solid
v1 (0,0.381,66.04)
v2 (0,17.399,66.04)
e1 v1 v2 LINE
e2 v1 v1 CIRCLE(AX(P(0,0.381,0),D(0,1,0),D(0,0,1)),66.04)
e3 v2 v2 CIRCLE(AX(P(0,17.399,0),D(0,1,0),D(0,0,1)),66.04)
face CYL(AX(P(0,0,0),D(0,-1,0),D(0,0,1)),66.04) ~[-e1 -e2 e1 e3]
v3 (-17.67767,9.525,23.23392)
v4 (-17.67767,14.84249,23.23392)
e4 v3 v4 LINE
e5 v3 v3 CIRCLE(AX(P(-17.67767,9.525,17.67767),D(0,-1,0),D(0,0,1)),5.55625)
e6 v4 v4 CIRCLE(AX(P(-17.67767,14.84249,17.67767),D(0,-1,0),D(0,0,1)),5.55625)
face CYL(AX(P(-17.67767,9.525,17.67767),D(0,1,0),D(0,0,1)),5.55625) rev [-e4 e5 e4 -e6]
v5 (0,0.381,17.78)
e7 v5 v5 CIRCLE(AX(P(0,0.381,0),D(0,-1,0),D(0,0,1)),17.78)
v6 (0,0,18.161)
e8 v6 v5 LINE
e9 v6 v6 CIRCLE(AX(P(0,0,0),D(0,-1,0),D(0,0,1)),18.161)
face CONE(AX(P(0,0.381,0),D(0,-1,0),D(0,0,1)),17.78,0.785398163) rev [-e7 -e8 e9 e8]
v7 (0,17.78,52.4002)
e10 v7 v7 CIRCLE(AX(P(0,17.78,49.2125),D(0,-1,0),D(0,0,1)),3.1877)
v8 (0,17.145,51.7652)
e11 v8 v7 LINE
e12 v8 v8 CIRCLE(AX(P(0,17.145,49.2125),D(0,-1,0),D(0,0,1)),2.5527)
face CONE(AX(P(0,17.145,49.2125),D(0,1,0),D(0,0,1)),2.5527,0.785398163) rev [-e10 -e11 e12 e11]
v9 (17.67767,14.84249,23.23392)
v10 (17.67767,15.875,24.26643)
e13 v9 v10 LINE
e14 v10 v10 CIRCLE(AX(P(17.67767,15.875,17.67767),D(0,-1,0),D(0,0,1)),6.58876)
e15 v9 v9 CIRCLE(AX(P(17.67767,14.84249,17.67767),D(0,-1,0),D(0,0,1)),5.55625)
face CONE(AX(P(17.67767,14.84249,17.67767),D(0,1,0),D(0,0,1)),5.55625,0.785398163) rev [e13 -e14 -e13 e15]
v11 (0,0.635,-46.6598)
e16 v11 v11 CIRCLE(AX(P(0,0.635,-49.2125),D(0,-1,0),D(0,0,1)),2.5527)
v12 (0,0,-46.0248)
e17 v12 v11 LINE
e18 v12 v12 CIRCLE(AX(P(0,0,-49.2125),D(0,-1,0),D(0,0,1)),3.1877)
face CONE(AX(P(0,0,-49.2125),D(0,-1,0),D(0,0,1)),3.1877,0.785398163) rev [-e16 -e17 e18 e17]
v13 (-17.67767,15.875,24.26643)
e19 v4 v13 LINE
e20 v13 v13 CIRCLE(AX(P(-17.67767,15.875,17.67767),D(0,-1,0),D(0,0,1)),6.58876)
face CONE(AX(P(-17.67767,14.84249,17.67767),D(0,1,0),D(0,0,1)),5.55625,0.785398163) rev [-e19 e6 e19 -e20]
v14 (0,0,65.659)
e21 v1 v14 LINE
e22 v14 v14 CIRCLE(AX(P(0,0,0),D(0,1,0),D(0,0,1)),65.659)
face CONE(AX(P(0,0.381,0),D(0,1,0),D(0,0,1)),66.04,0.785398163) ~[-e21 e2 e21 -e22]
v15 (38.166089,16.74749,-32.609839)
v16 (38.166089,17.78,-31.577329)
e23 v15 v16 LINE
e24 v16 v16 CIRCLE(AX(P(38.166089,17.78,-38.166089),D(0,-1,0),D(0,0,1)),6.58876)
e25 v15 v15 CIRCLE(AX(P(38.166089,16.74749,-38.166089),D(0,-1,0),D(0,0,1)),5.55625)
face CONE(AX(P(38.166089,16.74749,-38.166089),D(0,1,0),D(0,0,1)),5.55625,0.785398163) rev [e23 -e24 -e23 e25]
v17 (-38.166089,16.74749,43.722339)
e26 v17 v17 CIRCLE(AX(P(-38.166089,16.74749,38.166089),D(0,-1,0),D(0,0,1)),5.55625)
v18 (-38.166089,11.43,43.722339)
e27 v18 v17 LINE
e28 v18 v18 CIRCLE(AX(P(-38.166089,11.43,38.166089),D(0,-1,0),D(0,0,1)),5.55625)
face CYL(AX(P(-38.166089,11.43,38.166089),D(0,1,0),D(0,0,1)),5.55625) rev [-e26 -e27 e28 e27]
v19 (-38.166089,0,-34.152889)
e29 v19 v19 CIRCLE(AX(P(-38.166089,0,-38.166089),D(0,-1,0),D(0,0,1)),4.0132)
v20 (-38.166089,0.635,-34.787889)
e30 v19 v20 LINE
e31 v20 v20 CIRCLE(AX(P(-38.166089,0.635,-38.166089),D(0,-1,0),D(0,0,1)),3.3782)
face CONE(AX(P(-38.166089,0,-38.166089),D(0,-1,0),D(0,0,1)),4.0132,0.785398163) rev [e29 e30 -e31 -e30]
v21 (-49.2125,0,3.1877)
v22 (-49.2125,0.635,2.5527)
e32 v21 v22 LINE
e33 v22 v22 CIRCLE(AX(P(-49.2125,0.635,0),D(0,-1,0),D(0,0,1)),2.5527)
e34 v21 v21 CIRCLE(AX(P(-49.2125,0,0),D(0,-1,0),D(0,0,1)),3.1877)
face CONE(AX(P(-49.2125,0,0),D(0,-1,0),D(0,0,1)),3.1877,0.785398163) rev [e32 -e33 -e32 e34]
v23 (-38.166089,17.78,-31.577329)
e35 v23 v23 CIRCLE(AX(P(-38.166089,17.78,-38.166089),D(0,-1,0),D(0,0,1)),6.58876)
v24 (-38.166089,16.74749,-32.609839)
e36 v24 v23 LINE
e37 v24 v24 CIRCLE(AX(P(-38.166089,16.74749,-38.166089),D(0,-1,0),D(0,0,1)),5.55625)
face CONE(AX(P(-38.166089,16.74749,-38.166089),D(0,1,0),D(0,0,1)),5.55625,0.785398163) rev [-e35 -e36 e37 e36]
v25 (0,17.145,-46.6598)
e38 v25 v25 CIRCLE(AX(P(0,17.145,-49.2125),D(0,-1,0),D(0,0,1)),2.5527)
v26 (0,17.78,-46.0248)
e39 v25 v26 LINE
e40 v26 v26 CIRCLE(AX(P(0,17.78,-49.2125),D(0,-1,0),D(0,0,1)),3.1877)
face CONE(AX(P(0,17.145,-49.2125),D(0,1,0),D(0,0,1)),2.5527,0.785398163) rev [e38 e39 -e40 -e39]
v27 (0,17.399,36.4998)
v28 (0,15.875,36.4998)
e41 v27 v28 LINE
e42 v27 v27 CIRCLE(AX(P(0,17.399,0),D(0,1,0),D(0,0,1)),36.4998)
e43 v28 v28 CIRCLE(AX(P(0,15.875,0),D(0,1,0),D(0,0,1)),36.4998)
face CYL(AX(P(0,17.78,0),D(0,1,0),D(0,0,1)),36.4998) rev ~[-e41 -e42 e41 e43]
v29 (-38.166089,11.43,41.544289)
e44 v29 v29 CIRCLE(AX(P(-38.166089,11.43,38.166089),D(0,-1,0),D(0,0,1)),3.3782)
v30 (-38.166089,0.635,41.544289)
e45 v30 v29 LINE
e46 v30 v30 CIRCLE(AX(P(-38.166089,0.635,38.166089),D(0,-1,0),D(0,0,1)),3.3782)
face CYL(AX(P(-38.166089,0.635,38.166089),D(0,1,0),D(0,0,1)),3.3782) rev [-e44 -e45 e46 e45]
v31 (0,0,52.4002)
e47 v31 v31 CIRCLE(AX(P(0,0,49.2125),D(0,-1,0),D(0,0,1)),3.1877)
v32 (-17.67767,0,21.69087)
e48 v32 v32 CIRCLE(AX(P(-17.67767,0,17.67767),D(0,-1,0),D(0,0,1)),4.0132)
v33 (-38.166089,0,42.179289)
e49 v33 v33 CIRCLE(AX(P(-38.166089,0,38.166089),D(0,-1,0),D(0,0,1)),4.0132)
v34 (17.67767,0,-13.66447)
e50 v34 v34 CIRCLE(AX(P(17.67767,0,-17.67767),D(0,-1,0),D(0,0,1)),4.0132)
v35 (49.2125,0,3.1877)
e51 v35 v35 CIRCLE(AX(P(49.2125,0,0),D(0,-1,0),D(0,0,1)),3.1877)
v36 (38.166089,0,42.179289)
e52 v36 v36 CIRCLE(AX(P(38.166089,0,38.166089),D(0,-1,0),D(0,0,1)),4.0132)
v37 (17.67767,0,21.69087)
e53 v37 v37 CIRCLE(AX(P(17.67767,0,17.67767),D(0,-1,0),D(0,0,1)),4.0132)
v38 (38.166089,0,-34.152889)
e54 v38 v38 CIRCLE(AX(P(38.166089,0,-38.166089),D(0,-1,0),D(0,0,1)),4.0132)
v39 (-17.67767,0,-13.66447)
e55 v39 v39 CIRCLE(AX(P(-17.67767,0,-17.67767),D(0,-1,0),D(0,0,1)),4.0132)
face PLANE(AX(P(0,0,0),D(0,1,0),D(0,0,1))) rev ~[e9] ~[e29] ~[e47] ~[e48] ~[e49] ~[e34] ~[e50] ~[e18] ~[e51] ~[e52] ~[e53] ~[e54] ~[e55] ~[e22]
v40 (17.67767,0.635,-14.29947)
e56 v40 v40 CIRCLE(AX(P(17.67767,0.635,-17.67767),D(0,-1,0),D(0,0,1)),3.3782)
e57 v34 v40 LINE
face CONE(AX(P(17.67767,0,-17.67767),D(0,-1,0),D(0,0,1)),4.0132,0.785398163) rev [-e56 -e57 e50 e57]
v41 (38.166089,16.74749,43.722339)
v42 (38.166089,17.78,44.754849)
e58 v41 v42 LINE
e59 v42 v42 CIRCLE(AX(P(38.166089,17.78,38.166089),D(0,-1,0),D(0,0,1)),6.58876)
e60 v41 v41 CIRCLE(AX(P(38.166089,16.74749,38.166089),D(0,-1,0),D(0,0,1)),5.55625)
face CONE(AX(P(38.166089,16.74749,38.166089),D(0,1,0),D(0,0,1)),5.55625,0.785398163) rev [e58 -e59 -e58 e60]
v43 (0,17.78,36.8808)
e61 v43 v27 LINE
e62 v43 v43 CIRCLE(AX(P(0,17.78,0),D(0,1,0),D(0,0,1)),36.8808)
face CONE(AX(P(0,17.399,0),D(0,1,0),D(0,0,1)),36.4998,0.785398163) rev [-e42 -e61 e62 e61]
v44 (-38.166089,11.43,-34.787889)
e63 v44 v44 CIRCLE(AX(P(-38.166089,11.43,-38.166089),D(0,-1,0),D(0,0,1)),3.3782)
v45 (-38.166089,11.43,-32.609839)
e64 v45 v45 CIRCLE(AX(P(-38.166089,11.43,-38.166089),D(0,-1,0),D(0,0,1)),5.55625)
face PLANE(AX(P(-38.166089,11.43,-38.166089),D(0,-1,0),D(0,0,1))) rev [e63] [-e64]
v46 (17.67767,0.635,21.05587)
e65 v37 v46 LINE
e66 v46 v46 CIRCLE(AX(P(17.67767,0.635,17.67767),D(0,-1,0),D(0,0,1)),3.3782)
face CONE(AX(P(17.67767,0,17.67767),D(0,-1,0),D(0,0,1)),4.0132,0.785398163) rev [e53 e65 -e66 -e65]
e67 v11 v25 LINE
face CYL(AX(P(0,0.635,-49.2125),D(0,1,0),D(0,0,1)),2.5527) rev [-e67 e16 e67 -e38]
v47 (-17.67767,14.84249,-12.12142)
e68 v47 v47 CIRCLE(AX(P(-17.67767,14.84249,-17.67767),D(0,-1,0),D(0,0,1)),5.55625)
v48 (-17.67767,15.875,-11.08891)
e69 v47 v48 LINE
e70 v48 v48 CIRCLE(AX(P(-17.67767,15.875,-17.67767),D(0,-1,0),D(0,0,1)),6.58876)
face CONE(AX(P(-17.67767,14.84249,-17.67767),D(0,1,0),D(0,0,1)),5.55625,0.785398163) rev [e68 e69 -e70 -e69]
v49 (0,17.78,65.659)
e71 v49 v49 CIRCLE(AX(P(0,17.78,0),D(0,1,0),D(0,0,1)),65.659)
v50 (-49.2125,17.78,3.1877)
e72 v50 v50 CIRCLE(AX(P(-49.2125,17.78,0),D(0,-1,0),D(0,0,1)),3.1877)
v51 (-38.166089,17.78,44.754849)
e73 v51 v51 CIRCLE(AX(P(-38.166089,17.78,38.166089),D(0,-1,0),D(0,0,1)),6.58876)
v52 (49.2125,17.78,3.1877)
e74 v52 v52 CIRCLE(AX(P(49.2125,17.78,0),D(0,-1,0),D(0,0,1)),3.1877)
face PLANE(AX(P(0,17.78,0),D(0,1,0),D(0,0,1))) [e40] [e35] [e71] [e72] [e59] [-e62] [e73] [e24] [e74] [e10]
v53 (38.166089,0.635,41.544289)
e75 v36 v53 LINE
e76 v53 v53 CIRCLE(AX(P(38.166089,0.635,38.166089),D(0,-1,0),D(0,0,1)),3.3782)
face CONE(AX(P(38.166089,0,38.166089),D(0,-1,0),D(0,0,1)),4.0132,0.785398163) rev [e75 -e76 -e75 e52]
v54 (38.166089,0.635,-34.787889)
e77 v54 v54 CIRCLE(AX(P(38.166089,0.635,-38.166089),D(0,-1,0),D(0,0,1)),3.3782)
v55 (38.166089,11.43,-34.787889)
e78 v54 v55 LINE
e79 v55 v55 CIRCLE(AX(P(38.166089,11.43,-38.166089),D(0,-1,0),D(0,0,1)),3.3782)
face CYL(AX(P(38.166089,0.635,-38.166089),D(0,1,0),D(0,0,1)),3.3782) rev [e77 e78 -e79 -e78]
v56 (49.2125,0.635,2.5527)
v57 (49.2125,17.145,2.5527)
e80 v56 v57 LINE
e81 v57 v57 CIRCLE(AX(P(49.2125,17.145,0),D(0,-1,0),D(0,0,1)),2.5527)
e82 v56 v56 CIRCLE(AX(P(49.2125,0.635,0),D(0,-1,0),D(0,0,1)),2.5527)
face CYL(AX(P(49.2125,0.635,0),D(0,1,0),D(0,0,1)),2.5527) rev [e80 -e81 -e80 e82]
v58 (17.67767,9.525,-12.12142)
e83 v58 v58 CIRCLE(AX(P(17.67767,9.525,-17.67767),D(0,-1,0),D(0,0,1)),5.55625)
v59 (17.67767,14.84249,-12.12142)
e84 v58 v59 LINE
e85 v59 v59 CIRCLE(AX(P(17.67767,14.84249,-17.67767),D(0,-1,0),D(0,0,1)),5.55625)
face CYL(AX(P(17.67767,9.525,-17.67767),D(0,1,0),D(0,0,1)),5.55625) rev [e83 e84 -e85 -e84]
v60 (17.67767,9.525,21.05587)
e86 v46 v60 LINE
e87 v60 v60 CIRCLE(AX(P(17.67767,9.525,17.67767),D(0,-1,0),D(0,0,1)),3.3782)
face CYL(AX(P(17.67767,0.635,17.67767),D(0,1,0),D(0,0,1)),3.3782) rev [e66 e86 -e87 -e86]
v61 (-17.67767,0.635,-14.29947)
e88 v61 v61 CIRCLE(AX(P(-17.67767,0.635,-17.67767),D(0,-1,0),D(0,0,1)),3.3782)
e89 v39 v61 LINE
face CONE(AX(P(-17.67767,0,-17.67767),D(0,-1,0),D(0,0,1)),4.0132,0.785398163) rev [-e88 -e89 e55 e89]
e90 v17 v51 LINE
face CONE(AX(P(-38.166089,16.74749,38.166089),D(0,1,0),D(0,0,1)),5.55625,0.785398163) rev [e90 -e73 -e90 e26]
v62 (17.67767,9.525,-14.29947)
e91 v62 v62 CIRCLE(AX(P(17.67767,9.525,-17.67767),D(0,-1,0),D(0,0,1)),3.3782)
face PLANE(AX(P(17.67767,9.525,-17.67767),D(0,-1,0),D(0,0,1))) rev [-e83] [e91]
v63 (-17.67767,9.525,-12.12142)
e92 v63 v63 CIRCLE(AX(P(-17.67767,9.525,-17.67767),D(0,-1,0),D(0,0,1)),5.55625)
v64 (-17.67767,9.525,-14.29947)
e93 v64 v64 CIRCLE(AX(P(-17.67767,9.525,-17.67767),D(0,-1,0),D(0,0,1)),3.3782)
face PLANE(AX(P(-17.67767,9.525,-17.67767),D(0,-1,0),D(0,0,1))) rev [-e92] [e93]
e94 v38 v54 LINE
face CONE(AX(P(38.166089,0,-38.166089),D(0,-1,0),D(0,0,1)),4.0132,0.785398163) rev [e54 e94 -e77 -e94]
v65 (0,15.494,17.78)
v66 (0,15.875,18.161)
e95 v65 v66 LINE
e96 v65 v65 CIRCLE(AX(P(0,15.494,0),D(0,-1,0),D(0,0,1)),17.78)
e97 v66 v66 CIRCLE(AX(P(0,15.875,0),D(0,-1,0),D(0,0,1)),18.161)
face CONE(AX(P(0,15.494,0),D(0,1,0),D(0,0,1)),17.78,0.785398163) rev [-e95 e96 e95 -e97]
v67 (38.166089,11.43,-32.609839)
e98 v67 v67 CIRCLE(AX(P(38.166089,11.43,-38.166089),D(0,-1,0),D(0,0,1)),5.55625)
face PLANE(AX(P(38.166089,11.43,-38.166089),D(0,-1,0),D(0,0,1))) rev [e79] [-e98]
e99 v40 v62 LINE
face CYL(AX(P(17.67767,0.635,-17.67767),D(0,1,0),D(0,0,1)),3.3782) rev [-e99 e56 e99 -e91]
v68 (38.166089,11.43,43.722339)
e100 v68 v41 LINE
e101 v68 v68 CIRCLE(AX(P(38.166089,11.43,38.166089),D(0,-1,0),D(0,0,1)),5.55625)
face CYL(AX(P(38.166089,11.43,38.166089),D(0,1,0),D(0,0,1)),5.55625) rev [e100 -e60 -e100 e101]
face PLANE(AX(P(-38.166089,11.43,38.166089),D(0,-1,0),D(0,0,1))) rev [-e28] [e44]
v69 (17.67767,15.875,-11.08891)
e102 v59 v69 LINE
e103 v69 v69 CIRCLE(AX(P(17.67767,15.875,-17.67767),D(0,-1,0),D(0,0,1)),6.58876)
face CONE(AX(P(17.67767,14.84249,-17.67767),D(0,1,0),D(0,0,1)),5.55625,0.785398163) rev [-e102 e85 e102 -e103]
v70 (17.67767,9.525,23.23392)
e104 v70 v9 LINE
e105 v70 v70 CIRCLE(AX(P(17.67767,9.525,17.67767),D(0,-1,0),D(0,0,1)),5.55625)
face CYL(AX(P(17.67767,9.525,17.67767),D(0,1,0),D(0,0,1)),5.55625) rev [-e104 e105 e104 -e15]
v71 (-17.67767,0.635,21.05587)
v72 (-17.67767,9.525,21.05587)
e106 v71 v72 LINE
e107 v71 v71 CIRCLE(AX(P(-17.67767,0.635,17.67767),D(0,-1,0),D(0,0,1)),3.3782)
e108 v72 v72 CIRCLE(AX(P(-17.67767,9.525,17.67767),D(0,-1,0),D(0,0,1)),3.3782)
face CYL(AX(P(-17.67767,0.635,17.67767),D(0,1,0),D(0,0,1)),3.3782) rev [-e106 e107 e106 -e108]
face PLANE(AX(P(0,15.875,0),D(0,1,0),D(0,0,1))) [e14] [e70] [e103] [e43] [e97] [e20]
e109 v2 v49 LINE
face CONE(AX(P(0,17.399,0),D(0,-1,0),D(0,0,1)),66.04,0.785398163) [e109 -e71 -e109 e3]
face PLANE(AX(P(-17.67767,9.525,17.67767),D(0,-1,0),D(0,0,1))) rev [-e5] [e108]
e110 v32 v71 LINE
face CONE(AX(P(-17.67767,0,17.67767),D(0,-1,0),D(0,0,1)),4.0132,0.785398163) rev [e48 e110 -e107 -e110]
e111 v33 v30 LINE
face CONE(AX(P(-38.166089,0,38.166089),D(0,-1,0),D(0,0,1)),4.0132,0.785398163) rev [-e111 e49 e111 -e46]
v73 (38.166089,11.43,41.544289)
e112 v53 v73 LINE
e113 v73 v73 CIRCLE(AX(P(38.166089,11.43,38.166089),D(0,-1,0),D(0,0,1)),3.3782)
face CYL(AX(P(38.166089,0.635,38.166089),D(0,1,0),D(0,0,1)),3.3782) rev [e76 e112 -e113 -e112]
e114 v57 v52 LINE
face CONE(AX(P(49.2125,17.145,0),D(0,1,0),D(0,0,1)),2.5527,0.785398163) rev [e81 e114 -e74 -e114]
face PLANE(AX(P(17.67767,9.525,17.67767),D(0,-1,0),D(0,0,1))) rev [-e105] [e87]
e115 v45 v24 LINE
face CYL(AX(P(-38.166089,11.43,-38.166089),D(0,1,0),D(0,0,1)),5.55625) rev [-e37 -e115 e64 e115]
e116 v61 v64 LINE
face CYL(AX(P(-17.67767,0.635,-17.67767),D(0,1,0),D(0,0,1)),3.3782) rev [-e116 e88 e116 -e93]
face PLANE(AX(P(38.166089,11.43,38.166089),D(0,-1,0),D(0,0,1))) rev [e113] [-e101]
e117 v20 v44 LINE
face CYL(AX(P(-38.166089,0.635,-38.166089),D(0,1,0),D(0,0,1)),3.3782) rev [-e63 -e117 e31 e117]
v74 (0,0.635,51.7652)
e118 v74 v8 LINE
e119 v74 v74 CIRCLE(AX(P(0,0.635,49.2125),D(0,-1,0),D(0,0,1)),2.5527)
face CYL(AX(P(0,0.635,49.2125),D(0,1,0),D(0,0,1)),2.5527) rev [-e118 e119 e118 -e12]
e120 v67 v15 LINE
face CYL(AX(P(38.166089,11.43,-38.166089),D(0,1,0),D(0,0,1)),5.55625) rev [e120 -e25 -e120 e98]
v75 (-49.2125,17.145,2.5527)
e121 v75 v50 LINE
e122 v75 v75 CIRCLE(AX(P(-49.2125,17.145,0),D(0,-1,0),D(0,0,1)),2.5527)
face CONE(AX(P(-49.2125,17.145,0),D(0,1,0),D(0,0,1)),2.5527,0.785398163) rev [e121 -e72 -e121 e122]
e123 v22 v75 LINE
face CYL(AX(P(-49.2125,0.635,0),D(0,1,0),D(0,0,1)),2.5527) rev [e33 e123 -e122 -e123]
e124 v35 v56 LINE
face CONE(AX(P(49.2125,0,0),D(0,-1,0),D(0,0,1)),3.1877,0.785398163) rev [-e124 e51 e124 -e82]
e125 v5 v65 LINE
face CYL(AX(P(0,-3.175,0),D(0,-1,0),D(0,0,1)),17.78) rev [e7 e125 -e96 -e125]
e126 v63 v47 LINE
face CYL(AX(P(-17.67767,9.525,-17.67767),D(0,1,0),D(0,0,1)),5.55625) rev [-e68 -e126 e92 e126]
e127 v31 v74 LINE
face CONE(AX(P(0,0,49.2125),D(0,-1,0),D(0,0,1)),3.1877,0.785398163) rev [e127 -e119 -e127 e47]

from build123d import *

# Parameters (mm, degrees)
SKETCH1_R                                     = 66.04
BOSS_EXTRUDE1_DEPTH                           = 17.78
SKETCH2_R                                     = 36.4998
CUT_EXTRUDE1_DEPTH                            = 1.905
CUT_EXTRUDE2_DEPTH                            = 95.734253705
CUT_EXTRUDE2_DEPTH_BACK                       = 19.05
SKETCH3_R                                     = 17.78
F_1_4_20_TAPPED_HOLE1_AT_2_COUNT              = 2
F_1_4_20_TAPPED_HOLE1_AT_2_PITCH              = 69.596984938
F_1_4_20_TAPPED_HOLE1_AT_3_COUNT              = 2
F_1_4_20_TAPPED_HOLE1_AT_3_PITCH              = 98.425
F_1_4_20_TAPPED_HOLE1_AT_4_COUNT              = 2
F_1_4_20_TAPPED_HOLE1_AT_4_PITCH              = 69.596984938
CBORE_FOR_1_4_SOCKET_HEAD_CAP_SCREW1_AT_COUNT = 2
CBORE_FOR_1_4_SOCKET_HEAD_CAP_SCREW1_AT_PITCH = 25
CBORE_FOR_1_4_SOCKET_HEAD_CAP_SCREW1_2_COUNT  = 2
CBORE_FOR_1_4_SOCKET_HEAD_CAP_SCREW1_2_PITCH  = 25
CBORE_FOR_1_4_SOCKET_HEAD_CAP_SCREW1_3_COUNT  = 2
CBORE_FOR_1_4_SOCKET_HEAD_CAP_SCREW1_3_PITCH  = 25
CBORE_FOR_1_4_SOCKET_HEAD_CAP_SCREW1_4_COUNT  = 2
CBORE_FOR_1_4_SOCKET_HEAD_CAP_SCREW1_4_PITCH  = 25
CHAMFER1_SIZE                                 = 0.381
CBORE_FOR_1_4_SOCKET_HEAD_CAP_SCREW2_AT_COUNT = 2
CBORE_FOR_1_4_SOCKET_HEAD_CAP_SCREW2_AT_PITCH = 53.975
CBORE_FOR_1_4_SOCKET_HEAD_CAP_SCREW2_2_COUNT  = 2
CBORE_FOR_1_4_SOCKET_HEAD_CAP_SCREW2_2_PITCH  = 53.975
CBORE_FOR_1_4_SOCKET_HEAD_CAP_SCREW2_3_COUNT  = 2
CBORE_FOR_1_4_SOCKET_HEAD_CAP_SCREW2_3_PITCH  = 53.975
CBORE_FOR_1_4_SOCKET_HEAD_CAP_SCREW2_4_COUNT  = 2
CBORE_FOR_1_4_SOCKET_HEAD_CAP_SCREW2_4_PITCH  = 53.975


with BuildPart() as part:
    # Sketch1 → Boss-Extrude1 (new body)
    with BuildSketch(Plane(origin=(0, 0, 0), x_dir=(1, 0, 0), z_dir=(0, 1, 0))):
        with Locations(Location((0, 0, 0), (0, 0, 270))):
            Circle(SKETCH1_R)
    extrude(amount=BOSS_EXTRUDE1_DEPTH)

    # Sketch2 → Cut-Extrude1 (cut)
    with BuildSketch(Plane(origin=(0, 17.78, 0), x_dir=(1, 0, 0), z_dir=(0, 1, 0))):
        with Locations(Location((0, 0, 0), (0, 0, 270))):
            Circle(SKETCH2_R)
    extrude(amount=-CUT_EXTRUDE1_DEPTH, mode=Mode.SUBTRACT)

    # Sketch3 → Cut-Extrude2 (cut, two sides: drawn at the far end of the back side and taken through both)
    with BuildSketch(Plane(origin=(0, 15.875, 0), x_dir=(1, 0, 0), z_dir=(0, 1, 0)).offset(-CUT_EXTRUDE2_DEPTH_BACK)):
        with Locations(Location((0, 0, 0), (0, 0, 270))):
            Circle(SKETCH3_R)
    extrude(amount=CUT_EXTRUDE2_DEPTH + CUT_EXTRUDE2_DEPTH_BACK, mode=Mode.SUBTRACT)

    # Sketch5 → 1/4-20 Tapped Hole1 (revolve, cut)
    with BuildSketch(Plane(origin=(0, 17.78, -49.2125), x_dir=(0, 0, 1), z_dir=(1, 0, 0))):
        Polygon((0, 0), (0, 17.78), (3.1877, 17.78), (2.5527, 17.145), (2.5527, 0.635), (3.1877, 0), align=None)
    f_1_4_20_tapped_hole1 = revolve(axis=Axis((0, 24.13, -49.2125), (0, -1, 0)), mode=Mode.SUBTRACT)

    # 1/4-20 Tapped Hole1 at 2: 1/4-20 Tapped Hole1 ×2
    with Locations(*[Vector(0.7071067811865476, 0, 0.7071067811865476) * (i * F_1_4_20_TAPPED_HOLE1_AT_2_PITCH) for i in range(1, F_1_4_20_TAPPED_HOLE1_AT_2_COUNT)]):
        add(f_1_4_20_tapped_hole1, mode=Mode.SUBTRACT)

    # 1/4-20 Tapped Hole1 at 3: 1/4-20 Tapped Hole1 ×2
    with Locations(*[(0, 0, i * F_1_4_20_TAPPED_HOLE1_AT_3_PITCH) for i in range(1, F_1_4_20_TAPPED_HOLE1_AT_3_COUNT)]):
        add(f_1_4_20_tapped_hole1, mode=Mode.SUBTRACT)

    # 1/4-20 Tapped Hole1 at 4: 1/4-20 Tapped Hole1 ×2
    with Locations(*[Vector(-0.7071067811865476, 0, 0.7071067811865476) * (i * F_1_4_20_TAPPED_HOLE1_AT_4_PITCH) for i in range(1, F_1_4_20_TAPPED_HOLE1_AT_4_COUNT)]):
        add(f_1_4_20_tapped_hole1, mode=Mode.SUBTRACT)

    # Sketch7 → CBORE for 1/4 Socket Head Cap Screw1 (revolve, cut)
    with BuildSketch(Plane(origin=(0, 15.875, 0), x_dir=(0, 0, 1), z_dir=(1, 0, 0))):
        Polygon((0, 0), (0, 15.875), (4.0132, 15.875), (3.3782, 15.24), (3.3782, 6.35), (5.55625, 6.35), (5.55625, 1.03251), (6.58876, 0), align=None)
    cbore_for_1_4_socket_head_cap_screw1 = revolve(axis=Axis((0, 22.225, 0), (0, -1, 0)), mode=Mode.SUBTRACT)

    # CBORE for 1/4 Socket Head Cap Screw1 at: CBORE for 1/4 Socket Head Cap Screw1 ×2
    with Locations(*[Vector(0.7071067811865476, 0, -0.7071067811865476) * (i * CBORE_FOR_1_4_SOCKET_HEAD_CAP_SCREW1_AT_PITCH) for i in range(1, CBORE_FOR_1_4_SOCKET_HEAD_CAP_SCREW1_AT_COUNT)]):
        add(cbore_for_1_4_socket_head_cap_screw1, mode=Mode.SUBTRACT)

    # CBORE for 1_4 Socket Head Cap Screw1 2: CBORE for 1/4 Socket Head Cap Screw1 ×2
    with Locations(*[Vector(-0.7071067811865476, 0, 0.7071067811865476) * (i * CBORE_FOR_1_4_SOCKET_HEAD_CAP_SCREW1_2_PITCH) for i in range(1, CBORE_FOR_1_4_SOCKET_HEAD_CAP_SCREW1_2_COUNT)]):
        add(cbore_for_1_4_socket_head_cap_screw1, mode=Mode.SUBTRACT)

    # CBORE for 1_4 Socket Head Cap Screw1 3: CBORE for 1/4 Socket Head Cap Screw1 ×2
    with Locations(*[Vector(-0.7071067811865475, 0, -0.7071067811865477) * (i * CBORE_FOR_1_4_SOCKET_HEAD_CAP_SCREW1_3_PITCH) for i in range(1, CBORE_FOR_1_4_SOCKET_HEAD_CAP_SCREW1_3_COUNT)]):
        add(cbore_for_1_4_socket_head_cap_screw1, mode=Mode.SUBTRACT)

    # CBORE for 1_4 Socket Head Cap Screw1 4: CBORE for 1/4 Socket Head Cap Screw1 ×2
    with Locations(*[Vector(0.7071067811865477, 0, 0.7071067811865475) * (i * CBORE_FOR_1_4_SOCKET_HEAD_CAP_SCREW1_4_PITCH) for i in range(1, CBORE_FOR_1_4_SOCKET_HEAD_CAP_SCREW1_4_COUNT)]):
        add(cbore_for_1_4_socket_head_cap_screw1, mode=Mode.SUBTRACT)

    # Chamfer1
    chamfer1_edges = [part.edges().sort_by_distance(p)[0] for p in [
        (0, 15.875, -17.78),
        (0, 0, -17.78),
        (0, 0, -66.04),
        (0, 17.78, -66.04),
        (0, 17.78, -36.4998),
    ]]
    chamfer(chamfer1_edges, length=CHAMFER1_SIZE)

    # Sketch9 → CBORE for 1/4 Socket Head Cap Screw2 (revolve, cut)
    with BuildSketch(Plane(origin=(0, 17.78, 0), x_dir=(0, 0, 1), z_dir=(1, 0, 0))):
        Polygon((0, 0), (0, 17.78), (4.0132, 17.78), (3.3782, 17.145), (3.3782, 6.35), (5.55625, 6.35), (5.55625, 1.03251), (6.58876, 0), align=None)
    cbore_for_1_4_socket_head_cap_screw2 = revolve(axis=Axis((0, 24.13, 0), (0, -1, 0)), mode=Mode.SUBTRACT)

    # CBORE for 1/4 Socket Head Cap Screw2 at: CBORE for 1/4 Socket Head Cap Screw2 ×2
    with Locations(*[Vector(0.7071067811865476, 0, 0.7071067811865475) * (i * CBORE_FOR_1_4_SOCKET_HEAD_CAP_SCREW2_AT_PITCH) for i in range(1, CBORE_FOR_1_4_SOCKET_HEAD_CAP_SCREW2_AT_COUNT)]):
        add(cbore_for_1_4_socket_head_cap_screw2, mode=Mode.SUBTRACT)

    # CBORE for 1_4 Socket Head Cap Screw2 2: CBORE for 1/4 Socket Head Cap Screw2 ×2
    with Locations(*[Vector(-0.7071067811865476, 0, -0.7071067811865476) * (i * CBORE_FOR_1_4_SOCKET_HEAD_CAP_SCREW2_2_PITCH) for i in range(1, CBORE_FOR_1_4_SOCKET_HEAD_CAP_SCREW2_2_COUNT)]):
        add(cbore_for_1_4_socket_head_cap_screw2, mode=Mode.SUBTRACT)

    # CBORE for 1_4 Socket Head Cap Screw2 3: CBORE for 1/4 Socket Head Cap Screw2 ×2
    with Locations(*[Vector(-0.7071067811865477, 0, 0.7071067811865475) * (i * CBORE_FOR_1_4_SOCKET_HEAD_CAP_SCREW2_3_PITCH) for i in range(1, CBORE_FOR_1_4_SOCKET_HEAD_CAP_SCREW2_3_COUNT)]):
        add(cbore_for_1_4_socket_head_cap_screw2, mode=Mode.SUBTRACT)

    # CBORE for 1_4 Socket Head Cap Screw2 4: CBORE for 1/4 Socket Head Cap Screw2 ×2
    with Locations(*[Vector(0.7071067811865475, 0, -0.7071067811865477) * (i * CBORE_FOR_1_4_SOCKET_HEAD_CAP_SCREW2_4_PITCH) for i in range(1, CBORE_FOR_1_4_SOCKET_HEAD_CAP_SCREW2_4_COUNT)]):
        add(cbore_for_1_4_socket_head_cap_screw2, mode=Mode.SUBTRACT)


solid = part.part
